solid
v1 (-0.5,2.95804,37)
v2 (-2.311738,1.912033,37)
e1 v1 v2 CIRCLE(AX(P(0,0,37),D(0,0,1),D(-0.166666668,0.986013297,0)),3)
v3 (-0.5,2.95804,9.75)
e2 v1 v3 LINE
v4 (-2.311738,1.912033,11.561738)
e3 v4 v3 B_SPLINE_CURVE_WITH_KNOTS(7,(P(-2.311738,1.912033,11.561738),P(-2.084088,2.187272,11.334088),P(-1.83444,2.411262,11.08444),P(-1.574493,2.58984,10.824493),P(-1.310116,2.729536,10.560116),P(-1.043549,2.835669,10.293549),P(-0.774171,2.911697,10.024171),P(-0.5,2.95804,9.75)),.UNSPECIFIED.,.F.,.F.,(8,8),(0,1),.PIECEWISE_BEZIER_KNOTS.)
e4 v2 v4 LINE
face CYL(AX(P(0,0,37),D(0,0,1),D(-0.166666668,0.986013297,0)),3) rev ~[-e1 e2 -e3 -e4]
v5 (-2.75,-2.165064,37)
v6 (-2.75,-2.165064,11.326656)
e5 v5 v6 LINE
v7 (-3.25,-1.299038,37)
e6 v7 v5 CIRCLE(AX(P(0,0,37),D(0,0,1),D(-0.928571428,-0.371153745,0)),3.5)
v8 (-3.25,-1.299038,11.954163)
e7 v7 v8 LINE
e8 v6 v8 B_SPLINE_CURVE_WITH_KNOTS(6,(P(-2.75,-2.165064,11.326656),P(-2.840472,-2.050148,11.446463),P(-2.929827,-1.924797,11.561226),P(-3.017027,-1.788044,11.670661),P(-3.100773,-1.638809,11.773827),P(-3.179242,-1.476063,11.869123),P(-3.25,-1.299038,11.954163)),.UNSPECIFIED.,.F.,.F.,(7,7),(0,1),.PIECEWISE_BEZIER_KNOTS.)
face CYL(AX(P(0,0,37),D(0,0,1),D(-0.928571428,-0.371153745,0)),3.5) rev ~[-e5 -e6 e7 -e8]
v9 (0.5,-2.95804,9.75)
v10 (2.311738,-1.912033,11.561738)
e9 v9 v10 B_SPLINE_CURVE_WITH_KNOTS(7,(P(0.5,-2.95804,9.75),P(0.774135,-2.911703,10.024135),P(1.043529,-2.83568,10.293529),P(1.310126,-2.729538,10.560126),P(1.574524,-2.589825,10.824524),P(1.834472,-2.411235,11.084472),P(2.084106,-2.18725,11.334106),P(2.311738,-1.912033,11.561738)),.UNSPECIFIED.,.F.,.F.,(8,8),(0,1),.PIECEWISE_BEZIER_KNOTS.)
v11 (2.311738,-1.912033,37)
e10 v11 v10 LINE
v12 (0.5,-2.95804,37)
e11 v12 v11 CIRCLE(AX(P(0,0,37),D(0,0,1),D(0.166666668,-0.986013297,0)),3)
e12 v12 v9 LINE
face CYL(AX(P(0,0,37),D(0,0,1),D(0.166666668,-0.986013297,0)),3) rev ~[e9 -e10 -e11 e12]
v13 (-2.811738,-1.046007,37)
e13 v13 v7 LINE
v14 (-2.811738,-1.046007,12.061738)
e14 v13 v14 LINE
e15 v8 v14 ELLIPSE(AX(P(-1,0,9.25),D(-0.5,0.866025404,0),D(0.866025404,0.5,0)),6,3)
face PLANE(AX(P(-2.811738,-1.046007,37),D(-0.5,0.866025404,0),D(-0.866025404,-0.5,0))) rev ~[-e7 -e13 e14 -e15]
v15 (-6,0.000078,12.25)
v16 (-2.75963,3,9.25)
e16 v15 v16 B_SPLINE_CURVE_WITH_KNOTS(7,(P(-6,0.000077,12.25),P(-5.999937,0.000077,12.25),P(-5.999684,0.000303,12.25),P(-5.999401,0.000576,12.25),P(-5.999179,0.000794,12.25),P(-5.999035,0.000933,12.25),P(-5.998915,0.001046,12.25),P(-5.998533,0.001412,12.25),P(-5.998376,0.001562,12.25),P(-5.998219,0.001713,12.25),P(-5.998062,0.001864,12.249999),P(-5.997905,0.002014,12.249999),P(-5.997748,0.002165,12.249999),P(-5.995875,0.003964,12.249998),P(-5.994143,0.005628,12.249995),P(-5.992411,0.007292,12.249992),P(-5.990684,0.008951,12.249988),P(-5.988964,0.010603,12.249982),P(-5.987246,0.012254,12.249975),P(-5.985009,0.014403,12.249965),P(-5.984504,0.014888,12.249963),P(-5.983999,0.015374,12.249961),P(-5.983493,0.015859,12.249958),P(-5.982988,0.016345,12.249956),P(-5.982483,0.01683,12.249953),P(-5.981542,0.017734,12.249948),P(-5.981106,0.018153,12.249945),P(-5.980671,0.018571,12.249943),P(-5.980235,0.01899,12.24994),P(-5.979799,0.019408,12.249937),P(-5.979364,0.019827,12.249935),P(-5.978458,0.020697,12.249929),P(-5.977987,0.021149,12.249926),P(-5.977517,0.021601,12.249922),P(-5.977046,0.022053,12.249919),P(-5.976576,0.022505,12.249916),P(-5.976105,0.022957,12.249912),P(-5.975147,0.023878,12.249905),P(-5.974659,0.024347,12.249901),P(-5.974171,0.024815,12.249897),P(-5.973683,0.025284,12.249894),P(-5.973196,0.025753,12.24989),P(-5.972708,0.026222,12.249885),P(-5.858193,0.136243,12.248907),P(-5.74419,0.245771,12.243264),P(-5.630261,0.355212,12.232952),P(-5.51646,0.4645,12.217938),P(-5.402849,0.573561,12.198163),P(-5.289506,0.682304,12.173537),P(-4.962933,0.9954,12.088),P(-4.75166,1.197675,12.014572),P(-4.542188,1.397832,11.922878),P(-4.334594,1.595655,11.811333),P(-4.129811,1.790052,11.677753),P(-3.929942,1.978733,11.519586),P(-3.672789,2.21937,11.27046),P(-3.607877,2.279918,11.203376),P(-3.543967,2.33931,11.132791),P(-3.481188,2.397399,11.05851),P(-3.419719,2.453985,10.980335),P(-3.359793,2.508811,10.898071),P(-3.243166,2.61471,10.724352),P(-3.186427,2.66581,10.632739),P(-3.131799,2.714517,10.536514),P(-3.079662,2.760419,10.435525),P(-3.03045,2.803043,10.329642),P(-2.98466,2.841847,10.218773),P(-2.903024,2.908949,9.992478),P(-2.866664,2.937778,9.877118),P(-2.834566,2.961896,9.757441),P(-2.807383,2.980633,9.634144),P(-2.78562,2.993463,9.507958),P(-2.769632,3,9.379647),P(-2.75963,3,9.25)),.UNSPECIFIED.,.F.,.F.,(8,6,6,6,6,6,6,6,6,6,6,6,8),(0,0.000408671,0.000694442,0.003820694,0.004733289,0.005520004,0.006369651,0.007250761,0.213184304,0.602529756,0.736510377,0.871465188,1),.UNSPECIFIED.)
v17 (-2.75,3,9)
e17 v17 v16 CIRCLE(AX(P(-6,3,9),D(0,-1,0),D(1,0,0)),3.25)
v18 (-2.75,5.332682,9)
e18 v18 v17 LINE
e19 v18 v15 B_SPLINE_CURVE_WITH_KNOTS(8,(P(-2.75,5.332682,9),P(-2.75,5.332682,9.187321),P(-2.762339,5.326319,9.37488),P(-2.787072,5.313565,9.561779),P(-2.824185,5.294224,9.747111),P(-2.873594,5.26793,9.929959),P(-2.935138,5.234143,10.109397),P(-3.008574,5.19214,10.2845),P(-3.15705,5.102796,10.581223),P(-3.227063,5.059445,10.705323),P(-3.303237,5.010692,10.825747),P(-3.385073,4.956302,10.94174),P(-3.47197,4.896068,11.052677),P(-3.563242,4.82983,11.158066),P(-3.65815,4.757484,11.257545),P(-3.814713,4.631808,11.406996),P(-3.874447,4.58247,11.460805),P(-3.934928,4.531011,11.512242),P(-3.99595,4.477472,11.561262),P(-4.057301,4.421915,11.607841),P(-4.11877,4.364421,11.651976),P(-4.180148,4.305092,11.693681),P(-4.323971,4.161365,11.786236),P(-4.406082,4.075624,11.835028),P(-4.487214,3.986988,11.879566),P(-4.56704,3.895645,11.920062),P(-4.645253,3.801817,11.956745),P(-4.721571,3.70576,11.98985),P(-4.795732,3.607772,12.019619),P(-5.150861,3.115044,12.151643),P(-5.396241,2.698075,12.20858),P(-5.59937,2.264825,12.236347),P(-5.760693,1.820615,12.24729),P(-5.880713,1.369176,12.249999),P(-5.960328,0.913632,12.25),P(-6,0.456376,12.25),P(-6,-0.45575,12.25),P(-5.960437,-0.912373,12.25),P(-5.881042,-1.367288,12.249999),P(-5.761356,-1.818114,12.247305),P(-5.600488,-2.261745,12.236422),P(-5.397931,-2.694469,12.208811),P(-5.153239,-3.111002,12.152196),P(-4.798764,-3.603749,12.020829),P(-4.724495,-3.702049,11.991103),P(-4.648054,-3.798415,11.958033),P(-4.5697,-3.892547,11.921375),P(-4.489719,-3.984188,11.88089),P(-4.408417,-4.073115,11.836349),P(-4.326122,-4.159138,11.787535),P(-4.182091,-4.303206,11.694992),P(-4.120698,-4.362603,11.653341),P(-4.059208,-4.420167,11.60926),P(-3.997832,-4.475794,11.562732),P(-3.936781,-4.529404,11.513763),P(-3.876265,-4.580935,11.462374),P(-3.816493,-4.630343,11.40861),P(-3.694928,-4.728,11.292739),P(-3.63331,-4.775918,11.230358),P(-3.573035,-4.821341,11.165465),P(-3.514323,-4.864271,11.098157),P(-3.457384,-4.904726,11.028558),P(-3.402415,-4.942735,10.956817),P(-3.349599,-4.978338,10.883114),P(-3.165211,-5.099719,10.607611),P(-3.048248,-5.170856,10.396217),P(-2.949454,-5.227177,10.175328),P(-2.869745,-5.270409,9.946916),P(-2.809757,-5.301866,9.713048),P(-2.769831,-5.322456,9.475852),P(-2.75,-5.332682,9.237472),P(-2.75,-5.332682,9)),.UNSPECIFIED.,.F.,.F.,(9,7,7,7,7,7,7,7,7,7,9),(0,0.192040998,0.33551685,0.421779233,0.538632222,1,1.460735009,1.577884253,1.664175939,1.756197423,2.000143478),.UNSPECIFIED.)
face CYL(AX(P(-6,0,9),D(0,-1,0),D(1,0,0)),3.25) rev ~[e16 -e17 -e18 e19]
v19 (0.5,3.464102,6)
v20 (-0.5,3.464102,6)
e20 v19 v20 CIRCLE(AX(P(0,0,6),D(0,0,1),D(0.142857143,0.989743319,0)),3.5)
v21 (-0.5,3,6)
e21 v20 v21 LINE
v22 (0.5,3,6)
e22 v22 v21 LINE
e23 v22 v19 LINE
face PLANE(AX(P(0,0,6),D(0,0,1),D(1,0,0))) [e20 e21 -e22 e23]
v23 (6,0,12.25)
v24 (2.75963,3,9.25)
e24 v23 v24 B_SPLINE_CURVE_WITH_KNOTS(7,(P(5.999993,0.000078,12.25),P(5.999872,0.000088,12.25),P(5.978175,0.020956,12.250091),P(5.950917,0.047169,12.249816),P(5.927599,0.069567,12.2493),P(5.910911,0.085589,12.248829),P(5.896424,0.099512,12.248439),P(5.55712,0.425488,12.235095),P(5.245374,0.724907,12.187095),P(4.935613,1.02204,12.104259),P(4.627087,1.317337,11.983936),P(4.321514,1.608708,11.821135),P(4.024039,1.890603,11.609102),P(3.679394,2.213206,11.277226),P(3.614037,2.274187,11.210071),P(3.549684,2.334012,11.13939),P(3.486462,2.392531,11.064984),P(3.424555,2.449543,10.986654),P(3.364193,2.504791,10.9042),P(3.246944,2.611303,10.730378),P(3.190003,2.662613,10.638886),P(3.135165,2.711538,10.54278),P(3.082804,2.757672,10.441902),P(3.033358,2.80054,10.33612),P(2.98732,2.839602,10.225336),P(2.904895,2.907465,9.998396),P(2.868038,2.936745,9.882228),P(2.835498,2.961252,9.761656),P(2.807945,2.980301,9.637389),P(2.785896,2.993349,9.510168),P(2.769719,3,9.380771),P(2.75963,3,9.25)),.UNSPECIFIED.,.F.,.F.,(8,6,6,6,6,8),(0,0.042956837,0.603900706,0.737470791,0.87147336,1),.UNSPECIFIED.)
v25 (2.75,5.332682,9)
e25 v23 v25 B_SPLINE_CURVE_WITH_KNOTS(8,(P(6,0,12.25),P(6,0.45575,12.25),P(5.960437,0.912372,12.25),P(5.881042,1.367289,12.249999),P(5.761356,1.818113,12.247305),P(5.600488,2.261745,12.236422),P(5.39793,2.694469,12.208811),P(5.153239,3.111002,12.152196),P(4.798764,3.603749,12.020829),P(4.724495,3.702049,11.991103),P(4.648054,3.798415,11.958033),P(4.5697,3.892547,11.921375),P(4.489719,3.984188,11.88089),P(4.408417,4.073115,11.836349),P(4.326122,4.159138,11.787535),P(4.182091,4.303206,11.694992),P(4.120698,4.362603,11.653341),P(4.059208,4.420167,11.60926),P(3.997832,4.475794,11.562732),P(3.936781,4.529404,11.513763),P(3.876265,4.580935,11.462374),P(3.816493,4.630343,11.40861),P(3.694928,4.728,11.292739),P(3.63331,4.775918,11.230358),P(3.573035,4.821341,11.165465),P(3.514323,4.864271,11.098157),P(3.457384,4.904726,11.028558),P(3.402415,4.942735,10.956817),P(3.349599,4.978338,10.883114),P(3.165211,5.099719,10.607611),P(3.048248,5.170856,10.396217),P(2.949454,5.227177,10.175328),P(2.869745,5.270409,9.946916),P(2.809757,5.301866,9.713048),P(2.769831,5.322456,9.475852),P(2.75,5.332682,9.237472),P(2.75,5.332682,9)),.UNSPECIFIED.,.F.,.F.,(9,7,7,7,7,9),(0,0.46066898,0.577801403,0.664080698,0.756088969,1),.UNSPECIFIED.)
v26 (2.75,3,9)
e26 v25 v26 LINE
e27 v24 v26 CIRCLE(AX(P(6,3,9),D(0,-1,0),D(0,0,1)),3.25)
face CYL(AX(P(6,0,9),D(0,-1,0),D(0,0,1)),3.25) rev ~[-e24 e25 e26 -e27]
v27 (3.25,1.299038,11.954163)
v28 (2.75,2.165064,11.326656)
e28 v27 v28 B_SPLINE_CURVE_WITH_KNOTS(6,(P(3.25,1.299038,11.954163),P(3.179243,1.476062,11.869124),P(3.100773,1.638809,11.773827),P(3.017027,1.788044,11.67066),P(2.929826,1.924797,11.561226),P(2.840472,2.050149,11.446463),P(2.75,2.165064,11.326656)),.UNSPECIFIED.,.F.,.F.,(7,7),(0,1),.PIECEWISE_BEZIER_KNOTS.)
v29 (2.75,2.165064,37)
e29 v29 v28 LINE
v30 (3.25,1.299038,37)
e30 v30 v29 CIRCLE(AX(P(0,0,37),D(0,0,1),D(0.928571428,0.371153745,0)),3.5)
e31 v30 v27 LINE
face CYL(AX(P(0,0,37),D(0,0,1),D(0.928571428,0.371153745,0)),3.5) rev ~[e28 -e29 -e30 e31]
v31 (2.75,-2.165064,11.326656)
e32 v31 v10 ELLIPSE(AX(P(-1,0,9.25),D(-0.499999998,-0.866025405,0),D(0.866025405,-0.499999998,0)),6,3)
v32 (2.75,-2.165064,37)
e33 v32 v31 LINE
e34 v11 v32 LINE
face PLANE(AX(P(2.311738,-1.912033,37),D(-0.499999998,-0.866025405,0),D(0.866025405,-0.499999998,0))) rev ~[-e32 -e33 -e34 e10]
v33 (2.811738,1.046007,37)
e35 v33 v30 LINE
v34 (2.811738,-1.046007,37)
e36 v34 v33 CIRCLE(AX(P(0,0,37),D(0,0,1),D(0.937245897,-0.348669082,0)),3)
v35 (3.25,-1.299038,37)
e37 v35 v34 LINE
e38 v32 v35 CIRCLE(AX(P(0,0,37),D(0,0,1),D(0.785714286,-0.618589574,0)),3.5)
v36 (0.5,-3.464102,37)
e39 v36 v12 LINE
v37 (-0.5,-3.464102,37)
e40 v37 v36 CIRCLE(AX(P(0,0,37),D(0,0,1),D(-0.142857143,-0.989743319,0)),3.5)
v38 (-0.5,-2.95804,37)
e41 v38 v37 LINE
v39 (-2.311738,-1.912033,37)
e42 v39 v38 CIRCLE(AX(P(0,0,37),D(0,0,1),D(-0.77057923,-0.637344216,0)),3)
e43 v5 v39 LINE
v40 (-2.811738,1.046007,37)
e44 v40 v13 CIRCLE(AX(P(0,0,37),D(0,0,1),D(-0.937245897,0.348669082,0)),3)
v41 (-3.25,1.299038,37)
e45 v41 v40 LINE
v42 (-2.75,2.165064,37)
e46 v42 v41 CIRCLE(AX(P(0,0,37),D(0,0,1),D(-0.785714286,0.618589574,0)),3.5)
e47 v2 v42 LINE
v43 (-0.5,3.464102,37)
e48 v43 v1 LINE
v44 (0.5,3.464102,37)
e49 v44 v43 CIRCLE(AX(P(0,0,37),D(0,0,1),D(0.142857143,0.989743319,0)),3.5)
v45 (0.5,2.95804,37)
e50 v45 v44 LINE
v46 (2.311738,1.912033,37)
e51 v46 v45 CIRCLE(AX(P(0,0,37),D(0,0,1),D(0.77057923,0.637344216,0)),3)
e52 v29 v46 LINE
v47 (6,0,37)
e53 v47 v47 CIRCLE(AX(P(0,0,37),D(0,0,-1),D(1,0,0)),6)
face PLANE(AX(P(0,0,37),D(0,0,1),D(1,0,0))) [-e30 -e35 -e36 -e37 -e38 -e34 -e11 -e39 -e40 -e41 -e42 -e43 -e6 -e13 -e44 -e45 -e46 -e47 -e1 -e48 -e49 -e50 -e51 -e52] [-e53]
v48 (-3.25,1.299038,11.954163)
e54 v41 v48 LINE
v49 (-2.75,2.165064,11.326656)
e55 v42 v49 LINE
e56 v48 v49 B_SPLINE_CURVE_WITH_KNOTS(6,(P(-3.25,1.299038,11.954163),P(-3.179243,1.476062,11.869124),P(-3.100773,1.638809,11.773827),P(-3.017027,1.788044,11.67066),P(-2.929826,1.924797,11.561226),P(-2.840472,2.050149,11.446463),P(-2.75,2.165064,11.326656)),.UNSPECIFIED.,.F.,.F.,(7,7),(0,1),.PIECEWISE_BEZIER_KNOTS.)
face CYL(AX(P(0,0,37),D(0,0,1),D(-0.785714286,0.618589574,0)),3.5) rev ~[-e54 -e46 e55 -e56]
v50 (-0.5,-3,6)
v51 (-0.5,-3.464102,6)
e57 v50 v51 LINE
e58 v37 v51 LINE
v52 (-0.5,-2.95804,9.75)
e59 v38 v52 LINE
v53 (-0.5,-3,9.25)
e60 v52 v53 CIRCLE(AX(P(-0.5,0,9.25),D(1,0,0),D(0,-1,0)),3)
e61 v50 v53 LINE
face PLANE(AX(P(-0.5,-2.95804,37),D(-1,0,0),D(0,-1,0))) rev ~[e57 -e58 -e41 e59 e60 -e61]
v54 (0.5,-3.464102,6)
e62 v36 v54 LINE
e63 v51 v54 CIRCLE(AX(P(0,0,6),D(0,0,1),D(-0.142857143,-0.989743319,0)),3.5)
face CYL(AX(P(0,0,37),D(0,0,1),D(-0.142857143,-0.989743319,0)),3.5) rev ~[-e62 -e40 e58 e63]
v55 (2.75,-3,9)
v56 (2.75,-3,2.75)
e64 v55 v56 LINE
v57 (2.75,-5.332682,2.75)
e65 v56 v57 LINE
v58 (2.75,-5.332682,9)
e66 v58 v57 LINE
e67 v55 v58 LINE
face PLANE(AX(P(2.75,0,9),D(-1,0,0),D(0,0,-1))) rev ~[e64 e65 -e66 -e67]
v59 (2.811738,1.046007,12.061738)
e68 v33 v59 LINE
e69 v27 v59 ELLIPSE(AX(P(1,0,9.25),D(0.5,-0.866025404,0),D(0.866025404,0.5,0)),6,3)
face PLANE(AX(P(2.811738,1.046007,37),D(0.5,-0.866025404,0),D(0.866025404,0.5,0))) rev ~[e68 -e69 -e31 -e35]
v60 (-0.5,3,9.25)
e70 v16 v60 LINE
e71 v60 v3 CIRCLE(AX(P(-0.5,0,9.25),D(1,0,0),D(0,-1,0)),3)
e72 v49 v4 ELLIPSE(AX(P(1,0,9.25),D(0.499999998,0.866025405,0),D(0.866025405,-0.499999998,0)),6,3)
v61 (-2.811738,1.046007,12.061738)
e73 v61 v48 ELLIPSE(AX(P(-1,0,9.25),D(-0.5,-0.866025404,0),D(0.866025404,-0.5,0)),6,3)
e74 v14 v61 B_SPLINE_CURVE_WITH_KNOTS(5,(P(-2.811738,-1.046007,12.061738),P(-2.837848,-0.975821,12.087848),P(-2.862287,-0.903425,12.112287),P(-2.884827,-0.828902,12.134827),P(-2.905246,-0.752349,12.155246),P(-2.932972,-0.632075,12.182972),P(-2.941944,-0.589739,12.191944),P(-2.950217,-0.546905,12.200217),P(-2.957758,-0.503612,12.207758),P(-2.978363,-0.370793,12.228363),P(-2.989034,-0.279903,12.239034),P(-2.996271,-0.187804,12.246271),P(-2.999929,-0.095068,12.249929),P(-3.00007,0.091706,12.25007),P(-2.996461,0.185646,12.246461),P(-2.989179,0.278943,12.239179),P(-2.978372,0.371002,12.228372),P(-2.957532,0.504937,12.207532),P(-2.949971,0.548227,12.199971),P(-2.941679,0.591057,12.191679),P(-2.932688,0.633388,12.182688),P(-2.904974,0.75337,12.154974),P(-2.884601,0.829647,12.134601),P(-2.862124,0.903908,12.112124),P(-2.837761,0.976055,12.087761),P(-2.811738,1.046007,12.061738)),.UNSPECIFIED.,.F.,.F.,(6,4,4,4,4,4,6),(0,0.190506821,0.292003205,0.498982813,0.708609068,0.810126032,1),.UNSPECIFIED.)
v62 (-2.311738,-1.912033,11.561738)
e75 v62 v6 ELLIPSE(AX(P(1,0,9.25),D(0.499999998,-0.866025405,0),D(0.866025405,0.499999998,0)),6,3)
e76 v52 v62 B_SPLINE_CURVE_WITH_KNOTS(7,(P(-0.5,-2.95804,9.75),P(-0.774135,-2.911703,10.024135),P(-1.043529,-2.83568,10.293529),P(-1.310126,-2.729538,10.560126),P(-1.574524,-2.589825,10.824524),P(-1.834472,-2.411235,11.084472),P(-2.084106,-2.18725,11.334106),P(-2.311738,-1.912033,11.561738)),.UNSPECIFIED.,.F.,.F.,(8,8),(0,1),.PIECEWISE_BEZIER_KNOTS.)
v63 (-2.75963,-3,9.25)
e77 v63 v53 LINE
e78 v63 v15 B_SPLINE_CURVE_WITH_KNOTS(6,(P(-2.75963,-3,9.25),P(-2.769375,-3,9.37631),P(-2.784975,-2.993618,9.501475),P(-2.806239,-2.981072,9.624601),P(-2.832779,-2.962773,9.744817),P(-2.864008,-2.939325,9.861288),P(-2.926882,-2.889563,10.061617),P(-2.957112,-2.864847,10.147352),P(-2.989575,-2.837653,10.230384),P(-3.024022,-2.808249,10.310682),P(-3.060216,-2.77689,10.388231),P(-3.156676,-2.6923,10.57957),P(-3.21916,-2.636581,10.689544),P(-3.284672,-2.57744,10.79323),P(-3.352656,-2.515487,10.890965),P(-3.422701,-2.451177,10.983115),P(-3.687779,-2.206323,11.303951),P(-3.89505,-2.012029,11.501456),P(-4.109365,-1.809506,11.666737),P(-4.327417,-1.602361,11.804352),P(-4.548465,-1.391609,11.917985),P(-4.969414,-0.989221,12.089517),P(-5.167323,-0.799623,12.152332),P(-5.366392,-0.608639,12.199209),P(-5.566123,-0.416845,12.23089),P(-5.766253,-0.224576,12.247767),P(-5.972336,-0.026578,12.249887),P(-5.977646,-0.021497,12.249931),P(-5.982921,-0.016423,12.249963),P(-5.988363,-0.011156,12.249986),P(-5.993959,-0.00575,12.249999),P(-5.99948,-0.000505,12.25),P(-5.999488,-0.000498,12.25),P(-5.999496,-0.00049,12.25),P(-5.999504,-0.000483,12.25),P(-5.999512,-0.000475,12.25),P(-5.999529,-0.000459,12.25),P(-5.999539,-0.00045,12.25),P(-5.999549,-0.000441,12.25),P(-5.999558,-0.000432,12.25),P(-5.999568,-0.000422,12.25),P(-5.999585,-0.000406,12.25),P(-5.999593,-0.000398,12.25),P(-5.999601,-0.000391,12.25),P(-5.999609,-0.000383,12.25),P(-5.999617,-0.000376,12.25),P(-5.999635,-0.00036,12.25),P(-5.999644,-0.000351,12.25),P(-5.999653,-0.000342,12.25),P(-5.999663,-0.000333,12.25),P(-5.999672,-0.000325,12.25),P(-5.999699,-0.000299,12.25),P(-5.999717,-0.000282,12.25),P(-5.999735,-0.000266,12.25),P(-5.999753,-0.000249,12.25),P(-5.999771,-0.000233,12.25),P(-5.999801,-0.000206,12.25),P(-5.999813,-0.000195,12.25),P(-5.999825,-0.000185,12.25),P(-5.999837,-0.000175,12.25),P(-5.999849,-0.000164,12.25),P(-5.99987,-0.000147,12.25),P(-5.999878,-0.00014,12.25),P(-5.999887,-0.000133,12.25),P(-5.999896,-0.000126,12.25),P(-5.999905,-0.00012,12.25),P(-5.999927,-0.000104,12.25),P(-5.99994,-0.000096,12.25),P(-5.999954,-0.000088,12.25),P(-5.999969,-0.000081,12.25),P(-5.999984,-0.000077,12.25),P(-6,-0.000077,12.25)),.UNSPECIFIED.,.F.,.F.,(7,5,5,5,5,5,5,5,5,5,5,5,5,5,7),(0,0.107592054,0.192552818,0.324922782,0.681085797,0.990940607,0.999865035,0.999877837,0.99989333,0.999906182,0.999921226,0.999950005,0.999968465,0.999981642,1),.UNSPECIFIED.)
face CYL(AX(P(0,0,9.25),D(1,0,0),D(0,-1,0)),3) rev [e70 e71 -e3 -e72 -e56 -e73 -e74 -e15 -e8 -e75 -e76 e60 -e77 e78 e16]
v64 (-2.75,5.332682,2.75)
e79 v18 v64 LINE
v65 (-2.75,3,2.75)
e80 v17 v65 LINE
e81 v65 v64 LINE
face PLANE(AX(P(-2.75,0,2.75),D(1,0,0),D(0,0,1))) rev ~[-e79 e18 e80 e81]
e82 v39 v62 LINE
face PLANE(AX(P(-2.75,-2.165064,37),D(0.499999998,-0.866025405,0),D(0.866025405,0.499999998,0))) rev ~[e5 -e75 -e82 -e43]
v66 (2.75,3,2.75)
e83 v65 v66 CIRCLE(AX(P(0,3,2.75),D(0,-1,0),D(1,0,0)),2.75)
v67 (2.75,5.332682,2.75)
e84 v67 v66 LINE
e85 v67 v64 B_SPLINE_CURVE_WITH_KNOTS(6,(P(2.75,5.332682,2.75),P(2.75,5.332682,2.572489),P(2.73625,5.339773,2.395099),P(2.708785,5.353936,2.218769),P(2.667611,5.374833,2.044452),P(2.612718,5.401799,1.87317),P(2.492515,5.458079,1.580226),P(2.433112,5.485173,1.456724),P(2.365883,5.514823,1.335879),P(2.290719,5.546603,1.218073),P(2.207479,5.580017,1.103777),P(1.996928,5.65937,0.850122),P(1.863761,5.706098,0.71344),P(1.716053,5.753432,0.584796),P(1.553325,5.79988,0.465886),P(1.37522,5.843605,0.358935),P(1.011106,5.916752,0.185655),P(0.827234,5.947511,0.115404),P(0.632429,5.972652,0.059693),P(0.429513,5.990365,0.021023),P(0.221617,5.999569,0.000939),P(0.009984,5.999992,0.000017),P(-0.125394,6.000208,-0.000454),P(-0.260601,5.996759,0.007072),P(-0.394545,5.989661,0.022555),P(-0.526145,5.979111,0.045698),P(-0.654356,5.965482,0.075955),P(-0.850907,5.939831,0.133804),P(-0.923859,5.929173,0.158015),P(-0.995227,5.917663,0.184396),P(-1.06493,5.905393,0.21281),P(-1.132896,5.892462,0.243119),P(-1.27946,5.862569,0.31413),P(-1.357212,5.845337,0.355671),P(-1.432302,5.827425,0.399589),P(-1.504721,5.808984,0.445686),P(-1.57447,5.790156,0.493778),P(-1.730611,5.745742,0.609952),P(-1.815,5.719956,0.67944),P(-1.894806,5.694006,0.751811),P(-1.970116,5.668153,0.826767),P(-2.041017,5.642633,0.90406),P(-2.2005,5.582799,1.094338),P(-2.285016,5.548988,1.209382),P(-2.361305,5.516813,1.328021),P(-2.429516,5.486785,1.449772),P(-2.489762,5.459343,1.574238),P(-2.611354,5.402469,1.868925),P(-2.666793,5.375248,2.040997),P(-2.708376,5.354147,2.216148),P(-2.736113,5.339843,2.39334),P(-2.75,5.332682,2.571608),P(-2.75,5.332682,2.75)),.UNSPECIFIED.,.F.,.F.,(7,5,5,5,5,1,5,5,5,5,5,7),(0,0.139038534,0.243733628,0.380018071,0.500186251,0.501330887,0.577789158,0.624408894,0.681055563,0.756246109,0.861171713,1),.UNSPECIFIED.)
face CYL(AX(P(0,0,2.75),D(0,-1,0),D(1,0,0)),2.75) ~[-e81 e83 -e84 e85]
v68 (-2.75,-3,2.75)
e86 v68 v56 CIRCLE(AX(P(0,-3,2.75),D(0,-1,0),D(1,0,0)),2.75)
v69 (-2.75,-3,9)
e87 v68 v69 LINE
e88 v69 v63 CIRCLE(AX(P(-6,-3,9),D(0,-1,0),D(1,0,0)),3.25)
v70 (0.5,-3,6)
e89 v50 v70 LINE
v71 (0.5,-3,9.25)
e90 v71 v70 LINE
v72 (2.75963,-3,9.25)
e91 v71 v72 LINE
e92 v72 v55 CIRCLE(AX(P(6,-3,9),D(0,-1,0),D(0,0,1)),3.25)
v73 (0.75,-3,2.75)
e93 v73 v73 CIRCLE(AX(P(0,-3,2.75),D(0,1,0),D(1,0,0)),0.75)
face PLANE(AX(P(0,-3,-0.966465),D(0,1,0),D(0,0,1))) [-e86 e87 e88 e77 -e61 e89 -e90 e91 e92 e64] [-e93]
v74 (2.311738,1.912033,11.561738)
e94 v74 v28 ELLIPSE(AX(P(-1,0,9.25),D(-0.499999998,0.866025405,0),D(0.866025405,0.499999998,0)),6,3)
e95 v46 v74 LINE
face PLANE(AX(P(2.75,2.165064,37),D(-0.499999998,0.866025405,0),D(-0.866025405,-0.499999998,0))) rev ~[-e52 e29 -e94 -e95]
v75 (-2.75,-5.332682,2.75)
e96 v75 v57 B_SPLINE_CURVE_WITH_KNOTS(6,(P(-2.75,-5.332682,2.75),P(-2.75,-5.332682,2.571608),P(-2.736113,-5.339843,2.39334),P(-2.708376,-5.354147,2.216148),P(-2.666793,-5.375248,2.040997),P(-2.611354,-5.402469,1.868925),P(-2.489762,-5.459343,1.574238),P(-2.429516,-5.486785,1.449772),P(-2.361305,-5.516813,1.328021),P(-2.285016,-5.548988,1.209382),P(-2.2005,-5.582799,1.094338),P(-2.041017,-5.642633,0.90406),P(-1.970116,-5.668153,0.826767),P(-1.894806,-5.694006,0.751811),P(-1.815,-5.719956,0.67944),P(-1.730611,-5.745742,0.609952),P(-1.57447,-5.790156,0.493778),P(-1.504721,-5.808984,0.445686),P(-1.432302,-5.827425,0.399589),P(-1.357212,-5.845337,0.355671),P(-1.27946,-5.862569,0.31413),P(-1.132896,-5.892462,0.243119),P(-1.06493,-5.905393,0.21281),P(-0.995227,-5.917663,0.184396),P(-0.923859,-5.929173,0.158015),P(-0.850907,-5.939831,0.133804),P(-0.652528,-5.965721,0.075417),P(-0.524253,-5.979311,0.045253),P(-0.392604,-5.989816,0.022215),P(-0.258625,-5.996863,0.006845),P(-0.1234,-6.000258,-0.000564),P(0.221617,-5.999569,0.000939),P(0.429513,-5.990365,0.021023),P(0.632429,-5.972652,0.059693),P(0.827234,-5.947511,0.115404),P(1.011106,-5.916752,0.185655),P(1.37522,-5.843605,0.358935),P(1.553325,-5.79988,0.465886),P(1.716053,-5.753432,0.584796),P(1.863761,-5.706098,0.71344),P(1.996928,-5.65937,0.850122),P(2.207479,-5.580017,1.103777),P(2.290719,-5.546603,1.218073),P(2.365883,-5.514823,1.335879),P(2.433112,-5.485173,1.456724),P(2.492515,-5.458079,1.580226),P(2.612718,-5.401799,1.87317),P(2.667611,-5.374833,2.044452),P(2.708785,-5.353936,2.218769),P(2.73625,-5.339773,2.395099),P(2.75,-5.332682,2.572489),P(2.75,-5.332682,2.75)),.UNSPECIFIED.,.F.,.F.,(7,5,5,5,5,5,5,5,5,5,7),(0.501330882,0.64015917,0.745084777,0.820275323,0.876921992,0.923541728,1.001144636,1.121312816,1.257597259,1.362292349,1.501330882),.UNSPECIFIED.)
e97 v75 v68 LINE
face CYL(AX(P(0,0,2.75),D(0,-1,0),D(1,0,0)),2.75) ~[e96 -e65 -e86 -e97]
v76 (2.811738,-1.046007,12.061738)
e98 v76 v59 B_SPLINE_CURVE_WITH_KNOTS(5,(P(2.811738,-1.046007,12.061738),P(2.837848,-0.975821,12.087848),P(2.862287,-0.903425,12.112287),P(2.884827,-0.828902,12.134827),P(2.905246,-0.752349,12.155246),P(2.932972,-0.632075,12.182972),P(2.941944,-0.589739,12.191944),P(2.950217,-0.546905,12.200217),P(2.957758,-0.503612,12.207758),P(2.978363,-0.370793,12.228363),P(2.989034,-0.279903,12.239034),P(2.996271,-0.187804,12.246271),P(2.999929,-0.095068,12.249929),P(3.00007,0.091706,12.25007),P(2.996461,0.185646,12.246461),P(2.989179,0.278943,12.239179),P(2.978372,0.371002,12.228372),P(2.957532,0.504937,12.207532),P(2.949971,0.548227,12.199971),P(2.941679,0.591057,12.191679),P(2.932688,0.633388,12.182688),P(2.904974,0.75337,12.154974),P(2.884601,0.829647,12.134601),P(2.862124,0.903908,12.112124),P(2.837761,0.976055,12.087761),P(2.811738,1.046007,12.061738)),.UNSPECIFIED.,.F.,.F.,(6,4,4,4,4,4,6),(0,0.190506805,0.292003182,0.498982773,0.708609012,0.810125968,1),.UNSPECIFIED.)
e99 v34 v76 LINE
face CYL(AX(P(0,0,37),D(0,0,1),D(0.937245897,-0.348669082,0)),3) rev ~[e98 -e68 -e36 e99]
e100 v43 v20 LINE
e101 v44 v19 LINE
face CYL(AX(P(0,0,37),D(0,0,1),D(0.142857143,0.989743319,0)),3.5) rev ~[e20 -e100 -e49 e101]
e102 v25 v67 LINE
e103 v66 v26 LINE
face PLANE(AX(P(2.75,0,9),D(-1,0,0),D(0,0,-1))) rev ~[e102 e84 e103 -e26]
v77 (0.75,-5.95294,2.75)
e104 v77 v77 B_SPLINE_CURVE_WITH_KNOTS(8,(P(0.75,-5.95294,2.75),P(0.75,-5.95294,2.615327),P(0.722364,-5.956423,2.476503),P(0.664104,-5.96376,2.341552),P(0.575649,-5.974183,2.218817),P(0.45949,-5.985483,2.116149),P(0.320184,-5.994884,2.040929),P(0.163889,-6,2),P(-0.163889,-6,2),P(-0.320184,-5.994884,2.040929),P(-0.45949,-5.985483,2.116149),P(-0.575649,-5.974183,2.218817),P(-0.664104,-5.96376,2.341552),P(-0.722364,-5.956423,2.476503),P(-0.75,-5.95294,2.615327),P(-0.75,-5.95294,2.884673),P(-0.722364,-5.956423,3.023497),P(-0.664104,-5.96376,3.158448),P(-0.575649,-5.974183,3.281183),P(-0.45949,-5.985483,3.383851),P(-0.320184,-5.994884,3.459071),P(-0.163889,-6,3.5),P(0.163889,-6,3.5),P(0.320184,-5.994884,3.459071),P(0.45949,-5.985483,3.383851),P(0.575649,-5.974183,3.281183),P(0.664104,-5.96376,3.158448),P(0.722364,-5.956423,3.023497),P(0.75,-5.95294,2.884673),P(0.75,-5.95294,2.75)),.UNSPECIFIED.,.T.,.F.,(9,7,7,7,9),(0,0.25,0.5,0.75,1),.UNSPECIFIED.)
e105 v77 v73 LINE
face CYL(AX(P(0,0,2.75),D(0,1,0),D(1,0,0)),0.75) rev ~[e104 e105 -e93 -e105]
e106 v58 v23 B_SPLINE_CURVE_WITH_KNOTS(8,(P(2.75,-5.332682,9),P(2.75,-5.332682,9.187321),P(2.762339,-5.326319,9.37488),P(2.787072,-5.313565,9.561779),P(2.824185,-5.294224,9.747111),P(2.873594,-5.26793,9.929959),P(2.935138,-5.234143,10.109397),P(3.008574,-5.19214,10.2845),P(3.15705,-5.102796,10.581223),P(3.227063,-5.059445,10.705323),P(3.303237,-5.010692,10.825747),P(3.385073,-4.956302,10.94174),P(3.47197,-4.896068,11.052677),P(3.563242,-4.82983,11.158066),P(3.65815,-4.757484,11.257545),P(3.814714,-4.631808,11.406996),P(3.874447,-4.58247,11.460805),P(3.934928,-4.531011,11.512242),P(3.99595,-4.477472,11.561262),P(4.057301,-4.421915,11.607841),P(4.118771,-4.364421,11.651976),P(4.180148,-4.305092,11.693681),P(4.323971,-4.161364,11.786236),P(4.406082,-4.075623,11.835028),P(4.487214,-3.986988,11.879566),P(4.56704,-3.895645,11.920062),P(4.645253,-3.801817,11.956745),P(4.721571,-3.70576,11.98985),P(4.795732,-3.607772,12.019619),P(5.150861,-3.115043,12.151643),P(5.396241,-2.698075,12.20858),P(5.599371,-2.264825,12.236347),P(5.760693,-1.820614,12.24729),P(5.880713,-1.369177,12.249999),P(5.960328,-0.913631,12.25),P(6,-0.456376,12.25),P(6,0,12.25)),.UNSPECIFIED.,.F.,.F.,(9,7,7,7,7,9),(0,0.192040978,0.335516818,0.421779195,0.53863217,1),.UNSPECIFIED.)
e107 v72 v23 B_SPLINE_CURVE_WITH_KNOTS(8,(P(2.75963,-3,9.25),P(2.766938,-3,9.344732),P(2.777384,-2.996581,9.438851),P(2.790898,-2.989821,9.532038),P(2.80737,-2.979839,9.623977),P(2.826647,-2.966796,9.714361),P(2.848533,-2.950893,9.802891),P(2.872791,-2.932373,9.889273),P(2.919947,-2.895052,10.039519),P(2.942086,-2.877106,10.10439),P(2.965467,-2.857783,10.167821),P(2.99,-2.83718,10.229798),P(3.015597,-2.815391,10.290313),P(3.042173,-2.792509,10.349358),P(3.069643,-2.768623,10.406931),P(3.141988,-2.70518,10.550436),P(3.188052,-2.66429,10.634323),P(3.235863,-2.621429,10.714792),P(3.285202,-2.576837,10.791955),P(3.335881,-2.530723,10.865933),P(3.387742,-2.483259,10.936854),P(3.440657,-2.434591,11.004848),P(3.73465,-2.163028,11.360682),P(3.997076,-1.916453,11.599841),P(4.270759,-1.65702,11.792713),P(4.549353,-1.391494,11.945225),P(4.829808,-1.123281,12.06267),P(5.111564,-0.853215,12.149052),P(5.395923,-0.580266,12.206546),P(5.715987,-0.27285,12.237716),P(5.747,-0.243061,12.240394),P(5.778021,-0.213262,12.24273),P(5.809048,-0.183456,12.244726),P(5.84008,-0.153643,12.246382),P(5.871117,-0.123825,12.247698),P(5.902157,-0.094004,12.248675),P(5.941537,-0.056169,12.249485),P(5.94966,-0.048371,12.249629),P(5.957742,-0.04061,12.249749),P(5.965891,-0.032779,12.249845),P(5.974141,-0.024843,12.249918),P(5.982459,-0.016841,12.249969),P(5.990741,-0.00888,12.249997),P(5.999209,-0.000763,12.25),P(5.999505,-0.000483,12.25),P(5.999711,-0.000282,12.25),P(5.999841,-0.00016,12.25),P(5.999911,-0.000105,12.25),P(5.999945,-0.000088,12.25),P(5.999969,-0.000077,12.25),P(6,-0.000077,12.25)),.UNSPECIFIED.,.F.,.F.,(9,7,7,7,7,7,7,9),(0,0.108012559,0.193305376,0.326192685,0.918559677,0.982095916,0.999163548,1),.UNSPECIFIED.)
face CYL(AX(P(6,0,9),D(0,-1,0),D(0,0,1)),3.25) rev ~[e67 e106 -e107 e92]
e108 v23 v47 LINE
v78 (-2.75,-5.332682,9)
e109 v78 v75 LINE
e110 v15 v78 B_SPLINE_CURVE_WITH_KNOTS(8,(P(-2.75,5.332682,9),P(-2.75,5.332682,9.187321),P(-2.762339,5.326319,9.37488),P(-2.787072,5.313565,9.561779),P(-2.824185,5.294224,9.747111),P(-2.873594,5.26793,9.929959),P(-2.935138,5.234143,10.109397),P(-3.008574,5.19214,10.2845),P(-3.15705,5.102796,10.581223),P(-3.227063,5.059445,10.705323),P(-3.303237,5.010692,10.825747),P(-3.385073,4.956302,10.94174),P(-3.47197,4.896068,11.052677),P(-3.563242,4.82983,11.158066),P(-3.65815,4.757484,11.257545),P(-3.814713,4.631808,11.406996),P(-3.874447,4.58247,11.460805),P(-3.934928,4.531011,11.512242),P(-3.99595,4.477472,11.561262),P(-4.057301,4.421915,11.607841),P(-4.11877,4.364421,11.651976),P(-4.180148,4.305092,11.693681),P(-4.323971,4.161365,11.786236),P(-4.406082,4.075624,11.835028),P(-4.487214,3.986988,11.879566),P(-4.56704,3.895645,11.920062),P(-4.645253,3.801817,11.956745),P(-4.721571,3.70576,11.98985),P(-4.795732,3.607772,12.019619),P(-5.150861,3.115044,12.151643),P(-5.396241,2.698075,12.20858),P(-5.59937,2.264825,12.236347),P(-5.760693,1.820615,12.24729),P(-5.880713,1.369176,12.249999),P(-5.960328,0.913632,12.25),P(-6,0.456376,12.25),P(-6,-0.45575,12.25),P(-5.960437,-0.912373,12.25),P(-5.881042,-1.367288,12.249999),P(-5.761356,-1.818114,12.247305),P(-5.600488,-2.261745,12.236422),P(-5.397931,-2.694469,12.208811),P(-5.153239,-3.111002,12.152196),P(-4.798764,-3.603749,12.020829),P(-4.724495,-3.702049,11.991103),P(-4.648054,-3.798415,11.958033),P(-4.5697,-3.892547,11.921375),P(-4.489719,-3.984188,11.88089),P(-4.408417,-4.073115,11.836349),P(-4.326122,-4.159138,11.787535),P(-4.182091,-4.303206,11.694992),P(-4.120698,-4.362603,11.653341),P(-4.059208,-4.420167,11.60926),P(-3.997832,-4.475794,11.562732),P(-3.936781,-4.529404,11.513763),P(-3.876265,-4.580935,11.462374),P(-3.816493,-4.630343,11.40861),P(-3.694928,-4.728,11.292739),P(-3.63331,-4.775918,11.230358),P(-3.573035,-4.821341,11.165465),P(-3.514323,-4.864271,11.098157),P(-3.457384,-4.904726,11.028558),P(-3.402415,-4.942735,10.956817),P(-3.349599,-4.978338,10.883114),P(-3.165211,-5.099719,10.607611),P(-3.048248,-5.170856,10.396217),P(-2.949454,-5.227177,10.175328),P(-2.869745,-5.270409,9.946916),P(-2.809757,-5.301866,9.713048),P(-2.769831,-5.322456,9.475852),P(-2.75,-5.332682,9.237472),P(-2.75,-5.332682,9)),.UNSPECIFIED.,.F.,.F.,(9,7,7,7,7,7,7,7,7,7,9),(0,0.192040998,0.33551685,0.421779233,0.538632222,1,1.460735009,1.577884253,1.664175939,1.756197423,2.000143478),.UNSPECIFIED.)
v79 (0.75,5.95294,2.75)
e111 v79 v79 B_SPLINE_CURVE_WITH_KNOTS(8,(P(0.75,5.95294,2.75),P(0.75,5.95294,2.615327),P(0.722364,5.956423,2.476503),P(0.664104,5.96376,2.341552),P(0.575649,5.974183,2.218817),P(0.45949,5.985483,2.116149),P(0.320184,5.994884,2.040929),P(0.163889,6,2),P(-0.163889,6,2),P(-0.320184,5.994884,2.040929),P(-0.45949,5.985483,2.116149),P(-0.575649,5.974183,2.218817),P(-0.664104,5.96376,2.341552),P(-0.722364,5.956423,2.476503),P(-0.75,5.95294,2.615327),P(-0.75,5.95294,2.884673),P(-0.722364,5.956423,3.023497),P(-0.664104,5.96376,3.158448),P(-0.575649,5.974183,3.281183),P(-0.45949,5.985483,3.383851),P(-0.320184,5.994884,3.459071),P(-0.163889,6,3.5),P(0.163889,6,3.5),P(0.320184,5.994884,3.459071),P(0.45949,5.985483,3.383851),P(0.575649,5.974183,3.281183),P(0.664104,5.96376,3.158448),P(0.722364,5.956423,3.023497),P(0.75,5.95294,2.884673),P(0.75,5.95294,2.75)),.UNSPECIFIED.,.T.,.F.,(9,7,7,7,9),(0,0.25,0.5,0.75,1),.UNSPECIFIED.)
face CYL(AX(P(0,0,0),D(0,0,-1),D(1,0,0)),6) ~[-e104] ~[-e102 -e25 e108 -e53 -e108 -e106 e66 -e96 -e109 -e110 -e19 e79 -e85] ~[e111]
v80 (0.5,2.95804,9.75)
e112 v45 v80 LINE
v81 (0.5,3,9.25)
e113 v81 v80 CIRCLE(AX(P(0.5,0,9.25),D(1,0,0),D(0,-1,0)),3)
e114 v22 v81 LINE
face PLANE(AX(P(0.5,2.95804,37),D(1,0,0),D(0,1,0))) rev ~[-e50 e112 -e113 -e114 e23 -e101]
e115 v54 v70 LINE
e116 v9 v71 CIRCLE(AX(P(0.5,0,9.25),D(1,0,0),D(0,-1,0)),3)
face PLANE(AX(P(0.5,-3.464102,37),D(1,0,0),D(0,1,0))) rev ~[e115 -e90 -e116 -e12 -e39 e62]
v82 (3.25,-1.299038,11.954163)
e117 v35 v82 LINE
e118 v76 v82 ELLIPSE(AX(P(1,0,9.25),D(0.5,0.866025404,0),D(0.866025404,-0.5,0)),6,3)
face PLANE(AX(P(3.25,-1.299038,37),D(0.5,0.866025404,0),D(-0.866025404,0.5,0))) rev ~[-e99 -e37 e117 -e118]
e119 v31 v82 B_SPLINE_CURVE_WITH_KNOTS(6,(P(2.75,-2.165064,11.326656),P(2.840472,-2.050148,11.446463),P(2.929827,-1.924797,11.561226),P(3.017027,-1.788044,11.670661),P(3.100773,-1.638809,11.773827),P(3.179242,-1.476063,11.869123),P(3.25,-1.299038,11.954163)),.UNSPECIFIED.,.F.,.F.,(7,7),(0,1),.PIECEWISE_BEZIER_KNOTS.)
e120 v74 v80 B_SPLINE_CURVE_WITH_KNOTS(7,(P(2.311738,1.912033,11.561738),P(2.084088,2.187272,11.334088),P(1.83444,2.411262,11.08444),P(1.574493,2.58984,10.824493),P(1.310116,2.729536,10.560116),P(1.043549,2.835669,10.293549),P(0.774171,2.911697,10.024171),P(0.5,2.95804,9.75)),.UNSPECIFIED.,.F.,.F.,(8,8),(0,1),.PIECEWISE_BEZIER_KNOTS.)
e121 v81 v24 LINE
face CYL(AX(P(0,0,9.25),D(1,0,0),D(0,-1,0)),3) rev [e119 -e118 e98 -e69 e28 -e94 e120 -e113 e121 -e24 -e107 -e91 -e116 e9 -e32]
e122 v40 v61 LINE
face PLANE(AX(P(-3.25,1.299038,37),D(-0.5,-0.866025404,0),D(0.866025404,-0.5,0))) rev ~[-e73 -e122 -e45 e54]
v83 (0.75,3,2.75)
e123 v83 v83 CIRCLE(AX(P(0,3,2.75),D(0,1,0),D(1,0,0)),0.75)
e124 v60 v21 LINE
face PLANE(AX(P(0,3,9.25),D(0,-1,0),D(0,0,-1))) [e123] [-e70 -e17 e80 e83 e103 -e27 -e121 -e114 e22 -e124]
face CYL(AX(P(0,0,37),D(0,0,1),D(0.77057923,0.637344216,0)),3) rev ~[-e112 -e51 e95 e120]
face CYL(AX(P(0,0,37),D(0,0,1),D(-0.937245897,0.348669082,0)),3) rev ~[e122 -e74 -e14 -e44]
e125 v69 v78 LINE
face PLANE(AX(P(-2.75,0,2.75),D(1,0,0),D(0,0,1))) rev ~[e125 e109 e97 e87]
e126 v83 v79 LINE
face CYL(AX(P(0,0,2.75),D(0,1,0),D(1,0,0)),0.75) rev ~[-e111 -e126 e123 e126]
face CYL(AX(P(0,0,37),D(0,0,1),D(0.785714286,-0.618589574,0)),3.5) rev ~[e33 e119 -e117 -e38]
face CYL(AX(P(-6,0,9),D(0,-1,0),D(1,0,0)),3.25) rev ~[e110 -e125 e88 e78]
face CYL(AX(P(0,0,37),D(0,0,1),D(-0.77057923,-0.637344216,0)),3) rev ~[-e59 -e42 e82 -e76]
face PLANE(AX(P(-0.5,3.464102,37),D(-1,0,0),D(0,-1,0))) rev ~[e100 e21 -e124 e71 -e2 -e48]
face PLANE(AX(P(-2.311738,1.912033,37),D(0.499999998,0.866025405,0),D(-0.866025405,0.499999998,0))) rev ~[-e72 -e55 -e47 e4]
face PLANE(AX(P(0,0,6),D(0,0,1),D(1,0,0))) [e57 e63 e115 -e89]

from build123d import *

# Parameters (mm, degrees)
SKETCH_1_R          = 6
SKETCH_1_R_2        = 2.5
EXTRUDE_1_DEPTH     = 37
SKETCH_2_OUTSIDE_W  = 22.142
SKETCH_2_OUTSIDE_H  = 47.142
SKETCH_2_OUTSIDE_R  = 0.75
CUT_EXTRUDE_1_DEPTH = 9.5
CUT_EXTRUDE_2_DEPTH = 9.5
CUT_EXTRUDE_3_DEPTH = 31


with BuildPart() as part:
    # 草图1 → 凸台-拉伸1 (new body)
    with BuildSketch(Plane.XY):
        Circle(SKETCH_1_R)
        Circle(SKETCH_1_R_2, mode=Mode.SUBTRACT)
    extrude(amount=EXTRUDE_1_DEPTH)

    # 草图2 outside → 切除-拉伸1 (cut, symmetric)
    with BuildSketch(Plane(origin=(0, 0, 0), x_dir=(1, 0, 0), z_dir=(0, 1, 0))):
        with Locations((0, -18.5)):
            Rectangle(SKETCH_2_OUTSIDE_W, SKETCH_2_OUTSIDE_H)
        with BuildLine():
            Line((-2.75, -2.75), (-2.75, -9))
            ThreePointArc((-2.75, -9), (-3.701902961, -11.298097039), (-6, -12.25))
            Line((-6, -12.25), (-6, -37))
            Line((-6, -37), (6, -37))
            Line((6, -37), (6, -12.25))
            ThreePointArc((6, -12.25), (3.701902961, -11.298097039), (2.75, -9))
            Line((2.75, -9), (2.75, -2.75))
            ThreePointArc((2.75, -2.75), (0, 0), (-2.75, -2.75))
        make_face(mode=Mode.SUBTRACT)
        with Locations((0, -2.75)):
            Circle(SKETCH_2_OUTSIDE_R)
    extrude(amount=CUT_EXTRUDE_1_DEPTH, both=True, mode=Mode.SUBTRACT)

    # 草图3 → 切除-拉伸2 (cut, symmetric)
    with BuildSketch(Plane(origin=(0, 0, 0), x_dir=(0, 0, -1), z_dir=(1, 0, 0))):
        with BuildLine():
            Line((-9.250000001, 3), (0.966464558, 3))
            Line((0.966464558, 3), (0.966464558, -3))
            Line((0.966464558, -3), (-9.250000001, -3))
            ThreePointArc((-9.250000001, -3), (-12.250000001, 0), (-9.250000001, 3))
        make_face()
    extrude(amount=CUT_EXTRUDE_2_DEPTH, both=True, mode=Mode.SUBTRACT)

    # 草图4 → 切除-拉伸3 (cut)
    with BuildSketch(Plane.XY.offset(37)):
        with BuildLine():
            Line((-0.5, 3.464101615), (-0.5, 2.958039892))
            ThreePointArc((-0.5, 2.958039892), (-1.5, 2.598076211), (-2.311737691, 1.912032648))
            Line((-2.311737691, 1.912032648), (-2.75, 2.165063509))
            ThreePointArc((-2.75, 2.165063509), (-3.031088913, 1.75), (-3.25, 1.299038106))
            Line((-3.25, 1.299038106), (-2.811737691, 1.046007244))
            ThreePointArc((-2.811737691, 1.046007244), (-3, 0), (-2.811737691, -1.046007244))
            Line((-2.811737691, -1.046007244), (-3.25, -1.299038106))
            ThreePointArc((-3.25, -1.299038106), (-3.031088913, -1.75), (-2.75, -2.165063509))
            Line((-2.75, -2.165063509), (-2.311737691, -1.912032648))
            ThreePointArc((-2.311737691, -1.912032648), (-1.5, -2.598076211), (-0.5, -2.958039892))
            Line((-0.5, -2.958039892), (-0.5, -3.464101615))
            ThreePointArc((-0.5, -3.464101615), (0, -3.5), (0.5, -3.464101615))
            Line((0.5, -3.464101615), (0.5, -2.958039892))
            ThreePointArc((0.5, -2.958039892), (1.5, -2.598076211), (2.311737691, -1.912032648))
            Line((2.311737691, -1.912032648), (2.75, -2.165063509))
            ThreePointArc((2.75, -2.165063509), (3.031088913, -1.75), (3.25, -1.299038106))
            Line((3.25, -1.299038106), (2.811737691, -1.046007244))
            ThreePointArc((2.811737691, -1.046007244), (3, 0), (2.811737691, 1.046007244))
            Line((2.811737691, 1.046007244), (3.25, 1.299038106))
            ThreePointArc((3.25, 1.299038106), (3.031088913, 1.75), (2.75, 2.165063509))
            Line((2.75, 2.165063509), (2.311737691, 1.912032648))
            ThreePointArc((2.311737691, 1.912032648), (1.5, 2.598076211), (0.5, 2.958039892))
            Line((0.5, 2.958039892), (0.5, 3.464101615))
            ThreePointArc((0.5, 3.464101615), (0, 3.5), (-0.5, 3.464101615))
        make_face()
    extrude(amount=-CUT_EXTRUDE_3_DEPTH, mode=Mode.SUBTRACT)


solid = part.part
